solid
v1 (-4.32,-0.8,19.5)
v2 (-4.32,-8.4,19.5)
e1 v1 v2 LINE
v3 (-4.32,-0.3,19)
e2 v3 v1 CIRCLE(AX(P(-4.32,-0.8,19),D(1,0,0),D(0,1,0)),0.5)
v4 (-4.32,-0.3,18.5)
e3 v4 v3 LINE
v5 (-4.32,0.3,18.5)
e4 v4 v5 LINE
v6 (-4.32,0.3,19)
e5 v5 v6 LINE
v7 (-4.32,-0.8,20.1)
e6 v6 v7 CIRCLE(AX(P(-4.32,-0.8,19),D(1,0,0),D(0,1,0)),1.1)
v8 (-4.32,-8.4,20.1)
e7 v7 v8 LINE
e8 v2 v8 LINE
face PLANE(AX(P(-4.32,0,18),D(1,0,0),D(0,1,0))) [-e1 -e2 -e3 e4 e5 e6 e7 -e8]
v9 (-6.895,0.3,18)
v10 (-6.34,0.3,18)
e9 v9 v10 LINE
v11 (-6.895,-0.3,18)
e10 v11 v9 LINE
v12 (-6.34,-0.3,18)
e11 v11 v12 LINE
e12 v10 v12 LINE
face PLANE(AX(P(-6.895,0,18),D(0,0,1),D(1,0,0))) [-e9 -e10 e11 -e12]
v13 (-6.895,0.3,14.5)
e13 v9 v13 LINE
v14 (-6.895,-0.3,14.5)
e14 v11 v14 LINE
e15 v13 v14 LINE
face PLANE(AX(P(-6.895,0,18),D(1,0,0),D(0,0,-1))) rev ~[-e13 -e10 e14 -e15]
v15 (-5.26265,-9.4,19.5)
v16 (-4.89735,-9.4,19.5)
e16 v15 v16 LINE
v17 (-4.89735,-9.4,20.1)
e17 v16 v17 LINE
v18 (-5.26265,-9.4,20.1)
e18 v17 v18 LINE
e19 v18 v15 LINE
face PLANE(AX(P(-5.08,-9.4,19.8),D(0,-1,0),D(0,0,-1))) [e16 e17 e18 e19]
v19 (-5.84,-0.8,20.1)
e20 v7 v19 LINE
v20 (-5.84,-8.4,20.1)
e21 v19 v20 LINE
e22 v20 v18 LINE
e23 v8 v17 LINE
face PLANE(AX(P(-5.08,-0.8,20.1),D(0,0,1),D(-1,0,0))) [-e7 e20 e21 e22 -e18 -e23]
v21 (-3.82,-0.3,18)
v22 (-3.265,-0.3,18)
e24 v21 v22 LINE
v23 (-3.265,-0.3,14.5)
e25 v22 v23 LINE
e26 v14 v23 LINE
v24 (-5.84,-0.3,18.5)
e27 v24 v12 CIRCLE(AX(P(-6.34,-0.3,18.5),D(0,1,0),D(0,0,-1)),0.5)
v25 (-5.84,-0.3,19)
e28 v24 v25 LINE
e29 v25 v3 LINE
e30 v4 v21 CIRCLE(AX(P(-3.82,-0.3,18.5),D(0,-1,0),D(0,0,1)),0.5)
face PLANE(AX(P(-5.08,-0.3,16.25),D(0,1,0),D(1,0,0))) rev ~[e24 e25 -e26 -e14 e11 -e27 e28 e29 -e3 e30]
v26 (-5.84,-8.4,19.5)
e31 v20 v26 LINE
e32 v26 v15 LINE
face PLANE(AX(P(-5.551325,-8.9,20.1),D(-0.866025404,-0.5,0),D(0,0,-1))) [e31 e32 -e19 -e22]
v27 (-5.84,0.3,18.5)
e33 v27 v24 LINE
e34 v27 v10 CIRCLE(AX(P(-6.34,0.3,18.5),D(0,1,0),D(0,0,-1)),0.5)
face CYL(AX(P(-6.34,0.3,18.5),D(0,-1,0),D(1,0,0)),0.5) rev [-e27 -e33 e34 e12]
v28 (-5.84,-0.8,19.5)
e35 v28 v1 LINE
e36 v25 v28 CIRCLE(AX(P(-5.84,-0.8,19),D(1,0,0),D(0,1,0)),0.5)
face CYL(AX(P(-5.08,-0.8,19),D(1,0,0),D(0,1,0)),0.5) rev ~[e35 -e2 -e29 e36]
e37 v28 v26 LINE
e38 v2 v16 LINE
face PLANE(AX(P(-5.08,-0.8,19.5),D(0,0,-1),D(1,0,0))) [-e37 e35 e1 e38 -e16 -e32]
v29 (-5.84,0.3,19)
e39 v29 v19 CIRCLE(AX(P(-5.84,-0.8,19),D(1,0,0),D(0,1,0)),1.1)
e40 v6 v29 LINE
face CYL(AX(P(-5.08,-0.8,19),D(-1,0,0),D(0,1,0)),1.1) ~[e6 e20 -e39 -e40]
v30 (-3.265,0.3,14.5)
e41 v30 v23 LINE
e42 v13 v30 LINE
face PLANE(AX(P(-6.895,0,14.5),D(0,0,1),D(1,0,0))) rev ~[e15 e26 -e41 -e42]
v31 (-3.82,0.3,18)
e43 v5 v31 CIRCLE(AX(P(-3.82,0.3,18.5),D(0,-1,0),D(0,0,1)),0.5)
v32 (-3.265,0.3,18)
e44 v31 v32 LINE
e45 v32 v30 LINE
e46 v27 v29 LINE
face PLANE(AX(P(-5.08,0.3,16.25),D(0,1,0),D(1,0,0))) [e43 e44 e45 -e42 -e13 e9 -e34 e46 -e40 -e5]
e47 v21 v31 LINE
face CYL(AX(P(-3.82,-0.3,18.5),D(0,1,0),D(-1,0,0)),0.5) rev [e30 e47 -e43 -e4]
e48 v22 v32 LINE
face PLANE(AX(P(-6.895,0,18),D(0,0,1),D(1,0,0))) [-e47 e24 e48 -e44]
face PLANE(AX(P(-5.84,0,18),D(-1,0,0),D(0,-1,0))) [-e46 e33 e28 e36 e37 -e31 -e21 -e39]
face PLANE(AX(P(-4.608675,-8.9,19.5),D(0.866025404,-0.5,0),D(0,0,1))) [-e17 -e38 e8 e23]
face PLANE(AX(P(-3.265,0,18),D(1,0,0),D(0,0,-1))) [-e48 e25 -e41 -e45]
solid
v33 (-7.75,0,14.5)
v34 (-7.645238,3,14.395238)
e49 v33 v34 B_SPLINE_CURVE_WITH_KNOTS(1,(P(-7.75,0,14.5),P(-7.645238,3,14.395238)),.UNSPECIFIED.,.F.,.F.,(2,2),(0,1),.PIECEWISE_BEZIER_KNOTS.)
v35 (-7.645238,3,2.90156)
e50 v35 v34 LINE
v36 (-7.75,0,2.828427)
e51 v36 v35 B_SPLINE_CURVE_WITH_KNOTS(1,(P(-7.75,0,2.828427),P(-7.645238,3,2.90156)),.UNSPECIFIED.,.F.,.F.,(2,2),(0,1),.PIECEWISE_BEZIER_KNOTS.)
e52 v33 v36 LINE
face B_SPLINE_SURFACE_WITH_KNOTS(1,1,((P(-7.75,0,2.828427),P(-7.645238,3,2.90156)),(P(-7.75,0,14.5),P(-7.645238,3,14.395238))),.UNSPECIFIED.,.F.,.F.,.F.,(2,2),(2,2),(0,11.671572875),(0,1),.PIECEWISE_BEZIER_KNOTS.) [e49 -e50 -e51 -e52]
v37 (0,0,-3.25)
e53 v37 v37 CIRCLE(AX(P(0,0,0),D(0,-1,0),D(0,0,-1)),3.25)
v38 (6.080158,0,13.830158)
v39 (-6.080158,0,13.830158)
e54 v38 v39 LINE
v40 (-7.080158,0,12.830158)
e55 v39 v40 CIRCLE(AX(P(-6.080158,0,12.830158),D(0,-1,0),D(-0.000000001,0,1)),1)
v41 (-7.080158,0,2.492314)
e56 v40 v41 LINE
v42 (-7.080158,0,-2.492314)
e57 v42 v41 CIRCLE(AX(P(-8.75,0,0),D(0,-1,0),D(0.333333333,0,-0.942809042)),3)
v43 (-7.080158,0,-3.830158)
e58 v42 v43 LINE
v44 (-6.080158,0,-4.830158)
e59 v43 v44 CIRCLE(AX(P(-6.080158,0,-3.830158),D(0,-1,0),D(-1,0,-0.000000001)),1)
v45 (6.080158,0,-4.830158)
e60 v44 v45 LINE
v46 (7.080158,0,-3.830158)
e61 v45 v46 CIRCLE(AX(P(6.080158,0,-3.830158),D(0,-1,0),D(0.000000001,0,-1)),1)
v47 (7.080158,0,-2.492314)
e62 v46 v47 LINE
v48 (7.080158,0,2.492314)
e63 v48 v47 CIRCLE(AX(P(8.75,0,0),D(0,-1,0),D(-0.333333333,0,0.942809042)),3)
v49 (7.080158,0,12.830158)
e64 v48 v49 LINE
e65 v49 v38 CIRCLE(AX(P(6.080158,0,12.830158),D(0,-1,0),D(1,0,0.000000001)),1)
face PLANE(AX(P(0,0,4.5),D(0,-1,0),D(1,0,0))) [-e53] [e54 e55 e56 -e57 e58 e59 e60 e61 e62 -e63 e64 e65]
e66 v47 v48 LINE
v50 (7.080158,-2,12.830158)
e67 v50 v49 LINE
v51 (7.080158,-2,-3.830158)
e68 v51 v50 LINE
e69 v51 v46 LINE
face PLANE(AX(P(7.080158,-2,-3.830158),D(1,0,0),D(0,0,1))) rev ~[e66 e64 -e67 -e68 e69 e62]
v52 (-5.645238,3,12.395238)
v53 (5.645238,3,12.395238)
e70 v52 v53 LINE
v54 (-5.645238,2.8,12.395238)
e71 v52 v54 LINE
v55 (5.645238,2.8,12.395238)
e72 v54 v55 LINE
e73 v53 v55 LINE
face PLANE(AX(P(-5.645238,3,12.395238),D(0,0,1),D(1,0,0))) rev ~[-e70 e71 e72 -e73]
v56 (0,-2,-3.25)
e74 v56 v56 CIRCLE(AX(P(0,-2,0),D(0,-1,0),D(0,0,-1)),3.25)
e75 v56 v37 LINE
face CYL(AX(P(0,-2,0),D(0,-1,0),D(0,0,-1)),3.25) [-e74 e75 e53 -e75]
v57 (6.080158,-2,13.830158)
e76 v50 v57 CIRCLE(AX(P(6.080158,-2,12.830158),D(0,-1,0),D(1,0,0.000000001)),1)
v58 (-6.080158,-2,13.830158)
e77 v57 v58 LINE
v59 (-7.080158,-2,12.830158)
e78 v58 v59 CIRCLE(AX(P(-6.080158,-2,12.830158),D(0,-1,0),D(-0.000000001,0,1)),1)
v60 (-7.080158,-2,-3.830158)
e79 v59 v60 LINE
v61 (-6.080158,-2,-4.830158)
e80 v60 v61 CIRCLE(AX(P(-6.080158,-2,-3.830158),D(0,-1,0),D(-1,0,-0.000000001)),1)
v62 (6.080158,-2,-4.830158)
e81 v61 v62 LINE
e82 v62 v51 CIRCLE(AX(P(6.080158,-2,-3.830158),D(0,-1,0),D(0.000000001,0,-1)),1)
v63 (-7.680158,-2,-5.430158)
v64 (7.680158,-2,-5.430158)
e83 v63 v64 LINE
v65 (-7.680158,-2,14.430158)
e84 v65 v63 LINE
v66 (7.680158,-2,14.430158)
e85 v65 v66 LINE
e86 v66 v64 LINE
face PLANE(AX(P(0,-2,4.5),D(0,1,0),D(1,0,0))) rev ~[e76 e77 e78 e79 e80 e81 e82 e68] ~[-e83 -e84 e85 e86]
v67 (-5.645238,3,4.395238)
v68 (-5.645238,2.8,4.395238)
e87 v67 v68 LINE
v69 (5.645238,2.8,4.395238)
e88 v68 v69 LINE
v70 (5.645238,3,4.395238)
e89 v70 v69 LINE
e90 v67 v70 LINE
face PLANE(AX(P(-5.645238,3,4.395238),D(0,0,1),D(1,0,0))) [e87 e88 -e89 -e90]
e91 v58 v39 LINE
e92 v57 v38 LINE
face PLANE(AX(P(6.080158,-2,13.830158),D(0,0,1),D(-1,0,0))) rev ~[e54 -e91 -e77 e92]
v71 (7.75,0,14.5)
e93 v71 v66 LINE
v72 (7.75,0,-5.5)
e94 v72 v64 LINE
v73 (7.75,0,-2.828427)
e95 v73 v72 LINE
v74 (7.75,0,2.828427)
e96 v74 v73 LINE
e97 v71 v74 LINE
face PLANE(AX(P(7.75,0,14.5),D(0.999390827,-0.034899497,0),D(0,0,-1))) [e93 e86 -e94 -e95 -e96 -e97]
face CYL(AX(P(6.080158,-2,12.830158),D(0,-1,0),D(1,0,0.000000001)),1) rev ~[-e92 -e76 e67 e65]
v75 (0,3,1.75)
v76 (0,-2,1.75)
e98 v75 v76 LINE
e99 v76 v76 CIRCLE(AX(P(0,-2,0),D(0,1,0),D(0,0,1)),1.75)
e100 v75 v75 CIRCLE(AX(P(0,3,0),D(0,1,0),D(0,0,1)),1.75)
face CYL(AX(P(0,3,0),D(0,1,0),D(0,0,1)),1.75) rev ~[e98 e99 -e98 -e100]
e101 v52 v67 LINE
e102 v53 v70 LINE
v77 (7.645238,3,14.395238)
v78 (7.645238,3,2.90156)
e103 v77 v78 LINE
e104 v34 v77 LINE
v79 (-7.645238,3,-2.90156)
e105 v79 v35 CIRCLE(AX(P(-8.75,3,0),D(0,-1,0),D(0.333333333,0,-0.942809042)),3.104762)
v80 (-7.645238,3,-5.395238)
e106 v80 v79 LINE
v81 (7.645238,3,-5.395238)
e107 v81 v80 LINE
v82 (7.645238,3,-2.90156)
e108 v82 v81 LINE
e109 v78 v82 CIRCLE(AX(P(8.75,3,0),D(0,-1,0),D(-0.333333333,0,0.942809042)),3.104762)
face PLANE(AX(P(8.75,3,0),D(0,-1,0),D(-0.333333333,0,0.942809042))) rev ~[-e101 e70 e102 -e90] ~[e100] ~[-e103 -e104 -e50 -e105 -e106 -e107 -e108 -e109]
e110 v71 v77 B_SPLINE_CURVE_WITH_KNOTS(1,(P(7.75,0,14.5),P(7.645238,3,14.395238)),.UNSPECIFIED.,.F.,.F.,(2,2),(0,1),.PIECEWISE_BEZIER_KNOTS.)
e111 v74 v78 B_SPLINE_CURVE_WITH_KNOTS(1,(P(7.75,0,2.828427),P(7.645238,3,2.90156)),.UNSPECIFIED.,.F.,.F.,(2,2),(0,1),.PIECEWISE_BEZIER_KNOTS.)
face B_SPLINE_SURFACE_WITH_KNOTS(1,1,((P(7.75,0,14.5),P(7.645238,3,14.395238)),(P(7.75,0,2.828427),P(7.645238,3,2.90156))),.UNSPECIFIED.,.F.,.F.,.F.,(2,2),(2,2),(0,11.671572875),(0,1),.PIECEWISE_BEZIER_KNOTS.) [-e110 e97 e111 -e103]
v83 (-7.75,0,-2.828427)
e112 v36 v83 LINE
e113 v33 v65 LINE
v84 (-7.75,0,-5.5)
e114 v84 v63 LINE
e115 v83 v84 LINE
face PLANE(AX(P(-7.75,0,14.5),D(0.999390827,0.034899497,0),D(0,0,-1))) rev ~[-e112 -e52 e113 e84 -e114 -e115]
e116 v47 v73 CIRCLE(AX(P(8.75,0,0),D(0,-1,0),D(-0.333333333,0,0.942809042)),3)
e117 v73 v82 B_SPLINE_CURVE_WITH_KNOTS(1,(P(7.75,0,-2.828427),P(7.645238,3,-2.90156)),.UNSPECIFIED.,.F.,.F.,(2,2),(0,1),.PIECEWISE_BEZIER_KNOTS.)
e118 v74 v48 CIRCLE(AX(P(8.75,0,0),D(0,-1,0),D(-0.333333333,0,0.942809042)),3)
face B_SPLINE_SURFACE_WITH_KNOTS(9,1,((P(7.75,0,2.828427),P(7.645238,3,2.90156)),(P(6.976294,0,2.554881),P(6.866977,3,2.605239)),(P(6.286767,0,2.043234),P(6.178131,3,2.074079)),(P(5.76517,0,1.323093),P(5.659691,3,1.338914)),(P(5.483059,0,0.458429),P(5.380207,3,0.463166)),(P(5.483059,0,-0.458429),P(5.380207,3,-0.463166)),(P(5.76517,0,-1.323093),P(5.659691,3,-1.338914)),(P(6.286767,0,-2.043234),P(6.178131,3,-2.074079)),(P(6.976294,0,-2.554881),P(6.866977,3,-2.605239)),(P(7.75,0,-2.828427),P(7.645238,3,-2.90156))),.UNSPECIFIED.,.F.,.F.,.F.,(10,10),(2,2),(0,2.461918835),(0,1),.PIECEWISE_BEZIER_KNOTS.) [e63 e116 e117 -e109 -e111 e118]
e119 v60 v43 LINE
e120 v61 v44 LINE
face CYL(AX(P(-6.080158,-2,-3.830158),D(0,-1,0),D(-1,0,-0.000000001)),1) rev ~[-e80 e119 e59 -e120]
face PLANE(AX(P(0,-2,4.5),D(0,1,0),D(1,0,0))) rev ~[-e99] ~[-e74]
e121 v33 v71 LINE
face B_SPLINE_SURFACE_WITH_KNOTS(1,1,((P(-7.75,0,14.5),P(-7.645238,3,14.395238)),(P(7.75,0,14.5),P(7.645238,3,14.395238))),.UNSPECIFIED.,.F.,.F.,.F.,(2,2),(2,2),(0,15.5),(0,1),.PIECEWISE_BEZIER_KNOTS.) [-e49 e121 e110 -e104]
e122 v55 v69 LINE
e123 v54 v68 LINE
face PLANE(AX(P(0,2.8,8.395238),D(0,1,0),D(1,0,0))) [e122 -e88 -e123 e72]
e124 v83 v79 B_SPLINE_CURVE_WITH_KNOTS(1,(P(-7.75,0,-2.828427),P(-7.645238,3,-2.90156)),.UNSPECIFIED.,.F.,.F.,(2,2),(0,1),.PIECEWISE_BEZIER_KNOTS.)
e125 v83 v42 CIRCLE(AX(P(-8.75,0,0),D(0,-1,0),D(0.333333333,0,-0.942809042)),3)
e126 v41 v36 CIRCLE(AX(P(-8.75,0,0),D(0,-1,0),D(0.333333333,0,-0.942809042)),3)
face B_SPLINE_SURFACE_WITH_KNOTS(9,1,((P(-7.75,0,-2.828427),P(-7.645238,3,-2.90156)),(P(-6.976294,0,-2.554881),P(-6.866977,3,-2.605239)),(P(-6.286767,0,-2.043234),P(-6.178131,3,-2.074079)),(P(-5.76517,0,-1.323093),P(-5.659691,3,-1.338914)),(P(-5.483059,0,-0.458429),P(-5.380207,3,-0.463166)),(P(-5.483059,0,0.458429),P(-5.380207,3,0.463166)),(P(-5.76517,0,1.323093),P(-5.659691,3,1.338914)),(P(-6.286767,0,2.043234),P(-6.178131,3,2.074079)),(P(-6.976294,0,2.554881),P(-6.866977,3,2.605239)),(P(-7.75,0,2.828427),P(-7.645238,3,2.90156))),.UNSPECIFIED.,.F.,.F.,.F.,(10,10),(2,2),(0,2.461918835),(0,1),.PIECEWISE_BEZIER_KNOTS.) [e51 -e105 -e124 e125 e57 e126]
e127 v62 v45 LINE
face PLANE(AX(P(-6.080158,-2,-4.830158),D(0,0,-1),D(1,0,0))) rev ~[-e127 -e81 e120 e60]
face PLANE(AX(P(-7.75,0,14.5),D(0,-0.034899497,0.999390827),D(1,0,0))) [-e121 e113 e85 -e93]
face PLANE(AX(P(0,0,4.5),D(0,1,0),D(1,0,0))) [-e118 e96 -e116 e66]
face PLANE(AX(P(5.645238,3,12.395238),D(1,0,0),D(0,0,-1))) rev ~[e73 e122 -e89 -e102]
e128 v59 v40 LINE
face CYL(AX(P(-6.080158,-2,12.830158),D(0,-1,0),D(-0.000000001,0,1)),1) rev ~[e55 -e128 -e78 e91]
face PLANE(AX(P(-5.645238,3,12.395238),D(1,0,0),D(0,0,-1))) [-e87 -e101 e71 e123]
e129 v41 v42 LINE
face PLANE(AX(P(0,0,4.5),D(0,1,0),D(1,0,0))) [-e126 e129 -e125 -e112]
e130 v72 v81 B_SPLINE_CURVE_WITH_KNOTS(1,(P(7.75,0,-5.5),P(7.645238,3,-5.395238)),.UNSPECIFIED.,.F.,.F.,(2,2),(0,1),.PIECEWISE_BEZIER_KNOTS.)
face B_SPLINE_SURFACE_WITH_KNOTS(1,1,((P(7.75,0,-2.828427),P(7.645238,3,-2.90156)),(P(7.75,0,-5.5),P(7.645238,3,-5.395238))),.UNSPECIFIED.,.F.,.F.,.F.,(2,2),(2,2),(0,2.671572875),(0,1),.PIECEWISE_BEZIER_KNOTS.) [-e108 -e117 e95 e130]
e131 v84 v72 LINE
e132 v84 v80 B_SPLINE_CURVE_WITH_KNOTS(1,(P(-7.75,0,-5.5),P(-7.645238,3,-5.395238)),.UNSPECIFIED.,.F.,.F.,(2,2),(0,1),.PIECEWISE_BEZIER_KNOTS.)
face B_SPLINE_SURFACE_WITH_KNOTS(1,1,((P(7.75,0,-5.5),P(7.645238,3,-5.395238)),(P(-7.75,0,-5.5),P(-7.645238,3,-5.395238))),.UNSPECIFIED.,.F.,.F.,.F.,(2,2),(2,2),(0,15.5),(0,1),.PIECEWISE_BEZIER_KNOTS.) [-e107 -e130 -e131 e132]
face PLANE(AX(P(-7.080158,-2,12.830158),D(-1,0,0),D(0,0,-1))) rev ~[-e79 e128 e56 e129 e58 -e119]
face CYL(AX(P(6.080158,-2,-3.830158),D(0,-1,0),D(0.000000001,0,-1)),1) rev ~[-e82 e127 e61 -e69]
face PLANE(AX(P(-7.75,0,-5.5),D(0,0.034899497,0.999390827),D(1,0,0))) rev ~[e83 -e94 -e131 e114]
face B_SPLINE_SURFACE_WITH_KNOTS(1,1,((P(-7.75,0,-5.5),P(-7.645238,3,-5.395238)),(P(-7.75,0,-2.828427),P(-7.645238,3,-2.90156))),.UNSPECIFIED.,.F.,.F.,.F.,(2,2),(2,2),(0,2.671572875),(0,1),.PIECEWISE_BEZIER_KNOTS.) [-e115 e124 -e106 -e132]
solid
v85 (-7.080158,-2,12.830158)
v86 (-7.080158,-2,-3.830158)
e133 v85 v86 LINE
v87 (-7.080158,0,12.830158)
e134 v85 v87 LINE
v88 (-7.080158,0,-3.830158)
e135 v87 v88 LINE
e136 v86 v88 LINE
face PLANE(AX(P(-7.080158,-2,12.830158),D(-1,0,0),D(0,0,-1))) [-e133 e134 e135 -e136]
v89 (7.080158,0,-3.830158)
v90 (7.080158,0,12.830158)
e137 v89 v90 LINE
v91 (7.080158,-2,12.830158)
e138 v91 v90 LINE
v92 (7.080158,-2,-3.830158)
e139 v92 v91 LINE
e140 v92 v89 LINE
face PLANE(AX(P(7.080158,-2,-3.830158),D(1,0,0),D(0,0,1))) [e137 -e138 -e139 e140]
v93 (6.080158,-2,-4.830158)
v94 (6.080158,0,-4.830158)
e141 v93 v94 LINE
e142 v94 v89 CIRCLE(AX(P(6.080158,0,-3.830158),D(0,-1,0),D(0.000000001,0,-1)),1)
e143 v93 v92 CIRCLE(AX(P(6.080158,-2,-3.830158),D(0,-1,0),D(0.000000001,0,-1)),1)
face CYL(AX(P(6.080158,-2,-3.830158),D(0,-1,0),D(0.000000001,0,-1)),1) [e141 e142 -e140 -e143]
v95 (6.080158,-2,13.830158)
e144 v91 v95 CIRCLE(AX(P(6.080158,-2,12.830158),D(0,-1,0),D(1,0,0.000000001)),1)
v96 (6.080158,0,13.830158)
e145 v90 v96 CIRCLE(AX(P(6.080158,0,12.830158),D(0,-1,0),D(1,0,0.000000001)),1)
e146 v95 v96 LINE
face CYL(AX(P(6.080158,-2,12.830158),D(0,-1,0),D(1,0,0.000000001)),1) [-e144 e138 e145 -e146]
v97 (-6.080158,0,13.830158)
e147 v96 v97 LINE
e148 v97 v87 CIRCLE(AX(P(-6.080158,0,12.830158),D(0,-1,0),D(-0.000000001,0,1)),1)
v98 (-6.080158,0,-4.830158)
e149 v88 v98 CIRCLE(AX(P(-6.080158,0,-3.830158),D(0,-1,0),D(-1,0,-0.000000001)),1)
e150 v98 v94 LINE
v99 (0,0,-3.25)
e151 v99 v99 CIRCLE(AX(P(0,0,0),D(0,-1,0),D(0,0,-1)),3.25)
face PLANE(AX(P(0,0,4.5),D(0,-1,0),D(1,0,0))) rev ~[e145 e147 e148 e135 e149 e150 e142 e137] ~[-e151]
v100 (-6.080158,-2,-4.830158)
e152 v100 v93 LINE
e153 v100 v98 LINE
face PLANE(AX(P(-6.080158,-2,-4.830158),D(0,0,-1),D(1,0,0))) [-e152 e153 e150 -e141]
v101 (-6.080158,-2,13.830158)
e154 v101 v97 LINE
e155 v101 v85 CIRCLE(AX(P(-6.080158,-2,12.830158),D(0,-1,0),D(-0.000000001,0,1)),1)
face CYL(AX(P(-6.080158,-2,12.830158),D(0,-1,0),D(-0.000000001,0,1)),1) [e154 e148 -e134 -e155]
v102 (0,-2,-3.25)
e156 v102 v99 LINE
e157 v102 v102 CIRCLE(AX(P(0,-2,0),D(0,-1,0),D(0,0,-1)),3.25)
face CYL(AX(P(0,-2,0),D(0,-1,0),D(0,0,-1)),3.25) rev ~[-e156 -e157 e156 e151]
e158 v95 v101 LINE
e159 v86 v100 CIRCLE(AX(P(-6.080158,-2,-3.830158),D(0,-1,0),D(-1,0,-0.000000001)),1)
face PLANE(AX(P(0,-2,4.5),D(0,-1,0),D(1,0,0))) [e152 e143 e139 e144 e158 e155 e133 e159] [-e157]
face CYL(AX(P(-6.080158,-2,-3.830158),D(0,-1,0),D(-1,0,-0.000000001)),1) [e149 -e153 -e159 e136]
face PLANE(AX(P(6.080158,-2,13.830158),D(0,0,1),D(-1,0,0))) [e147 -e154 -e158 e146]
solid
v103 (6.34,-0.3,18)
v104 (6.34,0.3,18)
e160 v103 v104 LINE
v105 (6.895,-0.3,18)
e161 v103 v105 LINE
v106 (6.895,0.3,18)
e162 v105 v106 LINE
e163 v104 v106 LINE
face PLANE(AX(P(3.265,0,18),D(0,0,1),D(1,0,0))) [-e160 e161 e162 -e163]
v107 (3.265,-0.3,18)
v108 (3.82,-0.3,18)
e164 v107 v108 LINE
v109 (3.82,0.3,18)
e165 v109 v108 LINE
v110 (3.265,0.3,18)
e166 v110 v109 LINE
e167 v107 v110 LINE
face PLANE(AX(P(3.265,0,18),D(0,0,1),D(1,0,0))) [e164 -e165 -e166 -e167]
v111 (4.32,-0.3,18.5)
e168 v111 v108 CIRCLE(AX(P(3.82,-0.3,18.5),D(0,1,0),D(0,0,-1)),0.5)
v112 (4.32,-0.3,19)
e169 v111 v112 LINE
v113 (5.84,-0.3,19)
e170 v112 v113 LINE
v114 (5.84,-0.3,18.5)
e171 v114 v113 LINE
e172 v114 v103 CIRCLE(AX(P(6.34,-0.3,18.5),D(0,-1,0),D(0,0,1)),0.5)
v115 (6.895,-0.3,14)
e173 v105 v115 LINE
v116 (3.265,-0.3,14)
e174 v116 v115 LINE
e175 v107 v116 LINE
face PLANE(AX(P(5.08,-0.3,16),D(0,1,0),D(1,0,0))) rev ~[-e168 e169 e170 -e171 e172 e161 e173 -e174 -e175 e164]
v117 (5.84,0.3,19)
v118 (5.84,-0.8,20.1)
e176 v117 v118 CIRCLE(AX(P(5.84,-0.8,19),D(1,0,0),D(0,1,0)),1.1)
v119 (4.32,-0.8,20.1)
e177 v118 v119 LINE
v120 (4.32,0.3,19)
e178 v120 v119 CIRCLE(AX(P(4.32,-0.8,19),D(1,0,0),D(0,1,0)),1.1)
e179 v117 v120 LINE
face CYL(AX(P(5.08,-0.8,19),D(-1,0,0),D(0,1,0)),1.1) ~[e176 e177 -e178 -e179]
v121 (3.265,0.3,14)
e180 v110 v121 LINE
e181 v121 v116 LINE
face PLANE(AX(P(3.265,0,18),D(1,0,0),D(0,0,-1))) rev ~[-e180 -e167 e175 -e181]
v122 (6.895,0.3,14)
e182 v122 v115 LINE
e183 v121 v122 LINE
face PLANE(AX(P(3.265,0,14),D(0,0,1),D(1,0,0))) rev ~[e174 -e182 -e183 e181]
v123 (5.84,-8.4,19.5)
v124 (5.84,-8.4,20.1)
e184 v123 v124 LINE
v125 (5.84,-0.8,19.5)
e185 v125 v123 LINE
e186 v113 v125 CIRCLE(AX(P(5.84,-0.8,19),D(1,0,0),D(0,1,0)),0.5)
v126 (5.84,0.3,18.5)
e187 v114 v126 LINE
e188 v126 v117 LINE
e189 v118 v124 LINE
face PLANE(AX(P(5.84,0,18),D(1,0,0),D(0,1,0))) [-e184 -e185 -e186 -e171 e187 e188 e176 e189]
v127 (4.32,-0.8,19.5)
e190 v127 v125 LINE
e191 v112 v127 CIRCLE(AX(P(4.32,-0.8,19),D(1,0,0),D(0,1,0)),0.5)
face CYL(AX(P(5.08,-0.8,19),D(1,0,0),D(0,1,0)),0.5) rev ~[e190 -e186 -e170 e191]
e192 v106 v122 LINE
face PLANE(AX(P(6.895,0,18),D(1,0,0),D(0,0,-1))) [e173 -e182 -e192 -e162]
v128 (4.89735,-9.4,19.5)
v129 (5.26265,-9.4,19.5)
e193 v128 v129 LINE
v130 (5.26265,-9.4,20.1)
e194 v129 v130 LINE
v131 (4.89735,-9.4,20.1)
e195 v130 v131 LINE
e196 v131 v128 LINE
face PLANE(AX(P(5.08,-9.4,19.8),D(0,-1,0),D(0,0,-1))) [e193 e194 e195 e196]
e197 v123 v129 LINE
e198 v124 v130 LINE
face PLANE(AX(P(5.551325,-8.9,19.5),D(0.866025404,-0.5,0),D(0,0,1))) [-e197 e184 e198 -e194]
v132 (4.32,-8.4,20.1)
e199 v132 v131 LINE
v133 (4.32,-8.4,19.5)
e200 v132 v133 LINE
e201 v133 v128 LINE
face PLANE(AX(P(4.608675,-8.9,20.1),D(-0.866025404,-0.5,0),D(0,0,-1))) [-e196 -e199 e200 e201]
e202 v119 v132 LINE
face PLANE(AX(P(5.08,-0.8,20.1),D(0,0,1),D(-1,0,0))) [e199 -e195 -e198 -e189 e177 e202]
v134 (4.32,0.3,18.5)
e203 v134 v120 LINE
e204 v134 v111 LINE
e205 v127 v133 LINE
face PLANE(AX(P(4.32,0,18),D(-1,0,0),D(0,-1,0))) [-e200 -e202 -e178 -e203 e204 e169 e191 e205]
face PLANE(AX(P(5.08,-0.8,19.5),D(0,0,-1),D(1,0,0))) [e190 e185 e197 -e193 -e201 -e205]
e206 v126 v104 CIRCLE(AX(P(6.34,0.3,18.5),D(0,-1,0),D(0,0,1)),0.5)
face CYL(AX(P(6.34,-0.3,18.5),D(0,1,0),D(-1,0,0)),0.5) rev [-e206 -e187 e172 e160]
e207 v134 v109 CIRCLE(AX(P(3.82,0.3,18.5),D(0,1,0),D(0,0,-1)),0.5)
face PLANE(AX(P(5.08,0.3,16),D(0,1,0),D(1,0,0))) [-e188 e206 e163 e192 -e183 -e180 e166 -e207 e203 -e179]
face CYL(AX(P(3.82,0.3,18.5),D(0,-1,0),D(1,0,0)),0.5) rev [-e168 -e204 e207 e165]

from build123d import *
from OCP.BRepFilletAPI import BRepFilletAPI_MakeChamfer

# Parameters (mm, degrees)
SKETCH1_W                   = 15.5
SKETCH1_H                   = 20
EXTRUDE1_DEPTH              = 2
EXTRUDE1_DRAFT              = -2
EXTRUDE2_DEPTH              = 3
EXTRUDE2_TAPER              = 2
SKETCH3_R                   = 1.75
EXTRUDE3_DEPTH              = 18.184658986
SKETCH4_W                   = 3.63
SKETCH4_H                   = 3.5
EXTRUDE4_DEPTH              = 0.3
SKETCH4_H_2                 = 4
EXTRUDE4_2_DEPTH            = 0.3
SKETCH5_W                   = 11.290475384
SKETCH5_H                   = 8
EXTRUDE5_DEPTH              = 0.2
SKETCH6_W                   = 1.52
SKETCH6_H                   = 0.6
CHAMFER1_SIZE               = 1
CHAMFER1_SIZE2              = 0.577350269
LPATTERN1_COUNT             = 2
LPATTERN1_PITCH             = 10.16
CHAMFER1_OF_LPATTERN1_SIZE  = 1
CHAMFER1_OF_LPATTERN1_SIZE2 = 0.577350269
SKETCH7_R                   = 3.25
CUT_EXTRUDE1_DEPTH          = 2
SKETCH8_R                   = 3.25
EXTRUDE7_DEPTH              = 2
FILLET2_R                   = 0.5
FILLET3_R                   = 0.5


with BuildPart() as part:
    # Sketch1 → Extrude1 (with draft: the straight prism first)
    with BuildSketch(Plane(origin=(0, 0, 0), x_dir=(1, 0, 0), z_dir=(0, 1, 0))):
        with Locations((0, -4.5)):
            Rectangle(SKETCH1_W, SKETCH1_H)
    extrude(amount=-EXTRUDE1_DEPTH)
    # Extrude1: the draft: its side faces are tilted about the plane it starts from
    extrude1_sides = [part.faces().sort_by_distance(p)[0] for p in [
        (7.75, -1, 4.5),
        (0, -1, -5.5),
        (-7.75, -1, 4.5),
        (0, -1, 14.5),
    ]]
    draft(extrude1_sides, Plane(origin=(0, 0, 0), x_dir=(1, 0, 0), z_dir=(0, 1, 0)), EXTRUDE1_DRAFT)

    # Sketch2 → Extrude2 (add)
    with BuildSketch(Plane(origin=(0, 0, 0), x_dir=(1, 0, 0), z_dir=(0, 1, 0))):
        with BuildLine():
            Line((-7.75, -2.828427125), (-7.75, -14.5))
            Line((-7.75, -14.5), (7.75, -14.5))
            Line((7.75, -14.5), (7.75, -2.828427125))
            ThreePointArc((7.75, -2.828427125), (5.75, 0), (7.75, 2.828427125))
            Line((7.75, 2.828427125), (7.75, 5.5))
            Line((7.75, 5.5), (-7.75, 5.5))
            Line((-7.75, 5.5), (-7.75, 2.828427125))
            ThreePointArc((-7.75, 2.828427125), (-5.75, 0), (-7.75, -2.828427125))
        make_face()
    extrude(amount=EXTRUDE2_DEPTH, taper=EXTRUDE2_TAPER)

    # Sketch3 → Extrude3 (cut, through all)
    with BuildSketch(Plane(origin=(0, 3, 0), x_dir=(1, 0, 0), z_dir=(0, 1, 0))):
        with Locations(Location((0, 0, 0), (0, 0, 270))):
            Circle(SKETCH3_R)
    extrude(amount=-EXTRUDE3_DEPTH, mode=Mode.SUBTRACT)

    # Sketch5 → Extrude5 (cut)
    with BuildSketch(Plane(origin=(0, 3, 0), x_dir=(1, 0, 0), z_dir=(0, 1, 0))):
        with Locations((0, -8.395237692)):
            Rectangle(SKETCH5_W, SKETCH5_H)
    extrude(amount=-EXTRUDE5_DEPTH, mode=Mode.SUBTRACT)

    # Sketch7 → Cut-Extrude1 (cut)
    with BuildSketch(Plane.XZ.offset(2)):
        with BuildLine():
            Line((-7.080158461, 12.830158461), (-7.080158461, -3.830158461))
            ThreePointArc((-7.080158461, -3.830158461), (-6.787265242, -4.537265242), (-6.080158461, -4.830158461))
            Line((-6.080158461, -4.830158461), (6.080158461, -4.830158461))
            ThreePointArc((6.080158461, -4.830158461), (6.787265242, -4.537265242), (7.080158461, -3.830158461))
            Line((7.080158461, -3.830158461), (7.080158461, 12.830158461))
            ThreePointArc((7.080158461, 12.830158461), (6.787265242, 13.537265242), (6.080158461, 13.830158461))
            Line((6.080158461, 13.830158461), (-6.080158461, 13.830158461))
            ThreePointArc((-6.080158461, 13.830158461), (-6.787265242, 13.537265242), (-7.080158461, 12.830158461))
        make_face()
        with Locations(Location((0, 0, 0), (0, 0, 270))):
            Circle(SKETCH7_R, mode=Mode.SUBTRACT)
    extrude(amount=-CUT_EXTRUDE1_DEPTH, mode=Mode.SUBTRACT)


with BuildPart() as body_2:
    # Sketch4 → Extrude4 (new, symmetric)
    with BuildSketch(Plane(origin=(0, 0, 0), x_dir=(1, 0, 0), z_dir=(0, 1, 0))):
        with Locations((-5.08, -16.25)):
            Rectangle(SKETCH4_W, SKETCH4_H)
    extrude(amount=EXTRUDE4_DEPTH, both=True)

    # Sweep1: sweep along a curve in space
    with BuildLine() as sweep1_path:
        Line((-5.5, 0, 18), (-5.5, 0, 19))
        ThreePointArc((-5.5, 0, 19), (-5.5, -0.234314575, 19.565685425), (-5.5, -0.8, 19.8))
        Line((-5.5, -0.8, 19.8), (-5.5, -9.4, 19.8))
    # Sketch6 → Sweep1 (sweep)
    with BuildSketch(Plane.XY.offset(18)):
        with Locations((-5.08, 0)):
            Rectangle(SKETCH6_W, SKETCH6_H)
    sweep1 = sweep(path=sweep1_path.line)

    # Chamfer1: one chamfer whose edges measure the first distance from different faces: ONE call of the kernel's chamfer builder (chamfer() names one face for all edges)
    chamfer1_edges_1 = [body_2.edges().sort_by_distance(p)[0] for p in [
        (-5.84, -9.4, 19.8),
    ]]
    chamfer1_side_1 = [body_2.faces().sort_by_distance(p)[0] for p in [
        (-5.84, -4.07081027, 19.649372357),
    ]]
    chamfer1_edges_2 = [body_2.edges().sort_by_distance(p)[0] for p in [
        (-4.32, -9.4, 19.8),
    ]]
    chamfer1_side_2 = [body_2.faces().sort_by_distance(p)[0] for p in [
        (-4.32, -4.07081027, 19.649372357),
    ]]
    chamfer1 = BRepFilletAPI_MakeChamfer(body_2.part.solid().wrapped)
    for e in chamfer1_edges_1:
        chamfer1.Add(CHAMFER1_SIZE, CHAMFER1_SIZE2, e.wrapped, chamfer1_side_1[0].wrapped)  # the first distance lies on this face
    for e in chamfer1_edges_2:
        chamfer1.Add(CHAMFER1_SIZE, CHAMFER1_SIZE2, e.wrapped, chamfer1_side_2[0].wrapped)  # the first distance lies on this face
    add(Compound.cast(chamfer1.Shape()), mode=Mode.REPLACE)

    # Fillet2
    fillet2_edges = [body_2.edges().sort_by_distance(p)[0] for p in [
        (-4.32, 0, 18),
        (-5.84, 0, 18),
    ]]
    fillet(fillet2_edges, radius=FILLET2_R)


with BuildPart() as body_3:
    # Sketch4 → Extrude4 2 (new, symmetric)
    with BuildSketch(Plane(origin=(0, 0, 0), x_dir=(1, 0, 0), z_dir=(0, 1, 0))):
        with Locations((5.08, -16)):
            Rectangle(SKETCH4_W, SKETCH4_H_2)
    extrude(amount=EXTRUDE4_2_DEPTH, both=True)

    # LPattern1: Sweep1 ×2
    with Locations(*[(i * LPATTERN1_PITCH, 0, 0) for i in range(1, LPATTERN1_COUNT)]):
        add(sweep1)

    # Chamfer1 of LPattern1: one chamfer whose edges measure the first distance from different faces: ONE call of the kernel's chamfer builder (chamfer() names one face for all edges)
    chamfer1_of_lpattern1_edges_1 = [body_3.edges().sort_by_distance(p)[0] for p in [
        (4.32, -9.4, 19.8),
    ]]
    chamfer1_of_lpattern1_side_1 = [body_3.faces().sort_by_distance(p)[0] for p in [
        (4.32, -4.07081027, 19.649372357),
    ]]
    chamfer1_of_lpattern1_edges_2 = [body_3.edges().sort_by_distance(p)[0] for p in [
        (5.84, -9.4, 19.8),
    ]]
    chamfer1_of_lpattern1_side_2 = [body_3.faces().sort_by_distance(p)[0] for p in [
        (5.84, -4.07081027, 19.649372357),
    ]]
    chamfer1_of_lpattern1 = BRepFilletAPI_MakeChamfer(body_3.part.solid().wrapped)
    for e in chamfer1_of_lpattern1_edges_1:
        chamfer1_of_lpattern1.Add(CHAMFER1_OF_LPATTERN1_SIZE, CHAMFER1_OF_LPATTERN1_SIZE2, e.wrapped, chamfer1_of_lpattern1_side_1[0].wrapped)  # the first distance lies on this face
    for e in chamfer1_of_lpattern1_edges_2:
        chamfer1_of_lpattern1.Add(CHAMFER1_OF_LPATTERN1_SIZE, CHAMFER1_OF_LPATTERN1_SIZE2, e.wrapped, chamfer1_of_lpattern1_side_2[0].wrapped)  # the first distance lies on this face
    add(Compound.cast(chamfer1_of_lpattern1.Shape()), mode=Mode.REPLACE)

    # Fillet3
    fillet3_edges = [body_3.edges().sort_by_distance(p)[0] for p in [
        (5.84, 0, 18),
        (4.32, 0, 18),
    ]]
    fillet(fillet3_edges, radius=FILLET3_R)


with BuildPart() as body_4:
    # Sketch8 → Extrude7 (new body)
    with BuildSketch(Plane.XZ.offset(2)):
        with BuildLine():
            Line((-7.080158461, 12.830158461), (-7.080158461, -3.830158461))
            ThreePointArc((-7.080158461, -3.830158461), (-6.787265242, -4.537265242), (-6.080158461, -4.830158461))
            Line((-6.080158461, -4.830158461), (6.080158461, -4.830158461))
            ThreePointArc((6.080158461, -4.830158461), (6.787265242, -4.537265242), (7.080158461, -3.830158461))
            Line((7.080158461, -3.830158461), (7.080158461, 12.830158461))
            ThreePointArc((7.080158461, 12.830158461), (6.787265242, 13.537265242), (6.080158461, 13.830158461))
            Line((6.080158461, 13.830158461), (-6.080158461, 13.830158461))
            ThreePointArc((-6.080158461, 13.830158461), (-6.787265242, 13.537265242), (-7.080158461, 12.830158461))
        make_face()
        with Locations(Location((0, 0, 0), (0, 0, 270))):
            Circle(SKETCH8_R, mode=Mode.SUBTRACT)
    extrude(amount=-EXTRUDE7_DEPTH)


solid = Compound([part.part, body_2.part, body_3.part, body_4.part])
